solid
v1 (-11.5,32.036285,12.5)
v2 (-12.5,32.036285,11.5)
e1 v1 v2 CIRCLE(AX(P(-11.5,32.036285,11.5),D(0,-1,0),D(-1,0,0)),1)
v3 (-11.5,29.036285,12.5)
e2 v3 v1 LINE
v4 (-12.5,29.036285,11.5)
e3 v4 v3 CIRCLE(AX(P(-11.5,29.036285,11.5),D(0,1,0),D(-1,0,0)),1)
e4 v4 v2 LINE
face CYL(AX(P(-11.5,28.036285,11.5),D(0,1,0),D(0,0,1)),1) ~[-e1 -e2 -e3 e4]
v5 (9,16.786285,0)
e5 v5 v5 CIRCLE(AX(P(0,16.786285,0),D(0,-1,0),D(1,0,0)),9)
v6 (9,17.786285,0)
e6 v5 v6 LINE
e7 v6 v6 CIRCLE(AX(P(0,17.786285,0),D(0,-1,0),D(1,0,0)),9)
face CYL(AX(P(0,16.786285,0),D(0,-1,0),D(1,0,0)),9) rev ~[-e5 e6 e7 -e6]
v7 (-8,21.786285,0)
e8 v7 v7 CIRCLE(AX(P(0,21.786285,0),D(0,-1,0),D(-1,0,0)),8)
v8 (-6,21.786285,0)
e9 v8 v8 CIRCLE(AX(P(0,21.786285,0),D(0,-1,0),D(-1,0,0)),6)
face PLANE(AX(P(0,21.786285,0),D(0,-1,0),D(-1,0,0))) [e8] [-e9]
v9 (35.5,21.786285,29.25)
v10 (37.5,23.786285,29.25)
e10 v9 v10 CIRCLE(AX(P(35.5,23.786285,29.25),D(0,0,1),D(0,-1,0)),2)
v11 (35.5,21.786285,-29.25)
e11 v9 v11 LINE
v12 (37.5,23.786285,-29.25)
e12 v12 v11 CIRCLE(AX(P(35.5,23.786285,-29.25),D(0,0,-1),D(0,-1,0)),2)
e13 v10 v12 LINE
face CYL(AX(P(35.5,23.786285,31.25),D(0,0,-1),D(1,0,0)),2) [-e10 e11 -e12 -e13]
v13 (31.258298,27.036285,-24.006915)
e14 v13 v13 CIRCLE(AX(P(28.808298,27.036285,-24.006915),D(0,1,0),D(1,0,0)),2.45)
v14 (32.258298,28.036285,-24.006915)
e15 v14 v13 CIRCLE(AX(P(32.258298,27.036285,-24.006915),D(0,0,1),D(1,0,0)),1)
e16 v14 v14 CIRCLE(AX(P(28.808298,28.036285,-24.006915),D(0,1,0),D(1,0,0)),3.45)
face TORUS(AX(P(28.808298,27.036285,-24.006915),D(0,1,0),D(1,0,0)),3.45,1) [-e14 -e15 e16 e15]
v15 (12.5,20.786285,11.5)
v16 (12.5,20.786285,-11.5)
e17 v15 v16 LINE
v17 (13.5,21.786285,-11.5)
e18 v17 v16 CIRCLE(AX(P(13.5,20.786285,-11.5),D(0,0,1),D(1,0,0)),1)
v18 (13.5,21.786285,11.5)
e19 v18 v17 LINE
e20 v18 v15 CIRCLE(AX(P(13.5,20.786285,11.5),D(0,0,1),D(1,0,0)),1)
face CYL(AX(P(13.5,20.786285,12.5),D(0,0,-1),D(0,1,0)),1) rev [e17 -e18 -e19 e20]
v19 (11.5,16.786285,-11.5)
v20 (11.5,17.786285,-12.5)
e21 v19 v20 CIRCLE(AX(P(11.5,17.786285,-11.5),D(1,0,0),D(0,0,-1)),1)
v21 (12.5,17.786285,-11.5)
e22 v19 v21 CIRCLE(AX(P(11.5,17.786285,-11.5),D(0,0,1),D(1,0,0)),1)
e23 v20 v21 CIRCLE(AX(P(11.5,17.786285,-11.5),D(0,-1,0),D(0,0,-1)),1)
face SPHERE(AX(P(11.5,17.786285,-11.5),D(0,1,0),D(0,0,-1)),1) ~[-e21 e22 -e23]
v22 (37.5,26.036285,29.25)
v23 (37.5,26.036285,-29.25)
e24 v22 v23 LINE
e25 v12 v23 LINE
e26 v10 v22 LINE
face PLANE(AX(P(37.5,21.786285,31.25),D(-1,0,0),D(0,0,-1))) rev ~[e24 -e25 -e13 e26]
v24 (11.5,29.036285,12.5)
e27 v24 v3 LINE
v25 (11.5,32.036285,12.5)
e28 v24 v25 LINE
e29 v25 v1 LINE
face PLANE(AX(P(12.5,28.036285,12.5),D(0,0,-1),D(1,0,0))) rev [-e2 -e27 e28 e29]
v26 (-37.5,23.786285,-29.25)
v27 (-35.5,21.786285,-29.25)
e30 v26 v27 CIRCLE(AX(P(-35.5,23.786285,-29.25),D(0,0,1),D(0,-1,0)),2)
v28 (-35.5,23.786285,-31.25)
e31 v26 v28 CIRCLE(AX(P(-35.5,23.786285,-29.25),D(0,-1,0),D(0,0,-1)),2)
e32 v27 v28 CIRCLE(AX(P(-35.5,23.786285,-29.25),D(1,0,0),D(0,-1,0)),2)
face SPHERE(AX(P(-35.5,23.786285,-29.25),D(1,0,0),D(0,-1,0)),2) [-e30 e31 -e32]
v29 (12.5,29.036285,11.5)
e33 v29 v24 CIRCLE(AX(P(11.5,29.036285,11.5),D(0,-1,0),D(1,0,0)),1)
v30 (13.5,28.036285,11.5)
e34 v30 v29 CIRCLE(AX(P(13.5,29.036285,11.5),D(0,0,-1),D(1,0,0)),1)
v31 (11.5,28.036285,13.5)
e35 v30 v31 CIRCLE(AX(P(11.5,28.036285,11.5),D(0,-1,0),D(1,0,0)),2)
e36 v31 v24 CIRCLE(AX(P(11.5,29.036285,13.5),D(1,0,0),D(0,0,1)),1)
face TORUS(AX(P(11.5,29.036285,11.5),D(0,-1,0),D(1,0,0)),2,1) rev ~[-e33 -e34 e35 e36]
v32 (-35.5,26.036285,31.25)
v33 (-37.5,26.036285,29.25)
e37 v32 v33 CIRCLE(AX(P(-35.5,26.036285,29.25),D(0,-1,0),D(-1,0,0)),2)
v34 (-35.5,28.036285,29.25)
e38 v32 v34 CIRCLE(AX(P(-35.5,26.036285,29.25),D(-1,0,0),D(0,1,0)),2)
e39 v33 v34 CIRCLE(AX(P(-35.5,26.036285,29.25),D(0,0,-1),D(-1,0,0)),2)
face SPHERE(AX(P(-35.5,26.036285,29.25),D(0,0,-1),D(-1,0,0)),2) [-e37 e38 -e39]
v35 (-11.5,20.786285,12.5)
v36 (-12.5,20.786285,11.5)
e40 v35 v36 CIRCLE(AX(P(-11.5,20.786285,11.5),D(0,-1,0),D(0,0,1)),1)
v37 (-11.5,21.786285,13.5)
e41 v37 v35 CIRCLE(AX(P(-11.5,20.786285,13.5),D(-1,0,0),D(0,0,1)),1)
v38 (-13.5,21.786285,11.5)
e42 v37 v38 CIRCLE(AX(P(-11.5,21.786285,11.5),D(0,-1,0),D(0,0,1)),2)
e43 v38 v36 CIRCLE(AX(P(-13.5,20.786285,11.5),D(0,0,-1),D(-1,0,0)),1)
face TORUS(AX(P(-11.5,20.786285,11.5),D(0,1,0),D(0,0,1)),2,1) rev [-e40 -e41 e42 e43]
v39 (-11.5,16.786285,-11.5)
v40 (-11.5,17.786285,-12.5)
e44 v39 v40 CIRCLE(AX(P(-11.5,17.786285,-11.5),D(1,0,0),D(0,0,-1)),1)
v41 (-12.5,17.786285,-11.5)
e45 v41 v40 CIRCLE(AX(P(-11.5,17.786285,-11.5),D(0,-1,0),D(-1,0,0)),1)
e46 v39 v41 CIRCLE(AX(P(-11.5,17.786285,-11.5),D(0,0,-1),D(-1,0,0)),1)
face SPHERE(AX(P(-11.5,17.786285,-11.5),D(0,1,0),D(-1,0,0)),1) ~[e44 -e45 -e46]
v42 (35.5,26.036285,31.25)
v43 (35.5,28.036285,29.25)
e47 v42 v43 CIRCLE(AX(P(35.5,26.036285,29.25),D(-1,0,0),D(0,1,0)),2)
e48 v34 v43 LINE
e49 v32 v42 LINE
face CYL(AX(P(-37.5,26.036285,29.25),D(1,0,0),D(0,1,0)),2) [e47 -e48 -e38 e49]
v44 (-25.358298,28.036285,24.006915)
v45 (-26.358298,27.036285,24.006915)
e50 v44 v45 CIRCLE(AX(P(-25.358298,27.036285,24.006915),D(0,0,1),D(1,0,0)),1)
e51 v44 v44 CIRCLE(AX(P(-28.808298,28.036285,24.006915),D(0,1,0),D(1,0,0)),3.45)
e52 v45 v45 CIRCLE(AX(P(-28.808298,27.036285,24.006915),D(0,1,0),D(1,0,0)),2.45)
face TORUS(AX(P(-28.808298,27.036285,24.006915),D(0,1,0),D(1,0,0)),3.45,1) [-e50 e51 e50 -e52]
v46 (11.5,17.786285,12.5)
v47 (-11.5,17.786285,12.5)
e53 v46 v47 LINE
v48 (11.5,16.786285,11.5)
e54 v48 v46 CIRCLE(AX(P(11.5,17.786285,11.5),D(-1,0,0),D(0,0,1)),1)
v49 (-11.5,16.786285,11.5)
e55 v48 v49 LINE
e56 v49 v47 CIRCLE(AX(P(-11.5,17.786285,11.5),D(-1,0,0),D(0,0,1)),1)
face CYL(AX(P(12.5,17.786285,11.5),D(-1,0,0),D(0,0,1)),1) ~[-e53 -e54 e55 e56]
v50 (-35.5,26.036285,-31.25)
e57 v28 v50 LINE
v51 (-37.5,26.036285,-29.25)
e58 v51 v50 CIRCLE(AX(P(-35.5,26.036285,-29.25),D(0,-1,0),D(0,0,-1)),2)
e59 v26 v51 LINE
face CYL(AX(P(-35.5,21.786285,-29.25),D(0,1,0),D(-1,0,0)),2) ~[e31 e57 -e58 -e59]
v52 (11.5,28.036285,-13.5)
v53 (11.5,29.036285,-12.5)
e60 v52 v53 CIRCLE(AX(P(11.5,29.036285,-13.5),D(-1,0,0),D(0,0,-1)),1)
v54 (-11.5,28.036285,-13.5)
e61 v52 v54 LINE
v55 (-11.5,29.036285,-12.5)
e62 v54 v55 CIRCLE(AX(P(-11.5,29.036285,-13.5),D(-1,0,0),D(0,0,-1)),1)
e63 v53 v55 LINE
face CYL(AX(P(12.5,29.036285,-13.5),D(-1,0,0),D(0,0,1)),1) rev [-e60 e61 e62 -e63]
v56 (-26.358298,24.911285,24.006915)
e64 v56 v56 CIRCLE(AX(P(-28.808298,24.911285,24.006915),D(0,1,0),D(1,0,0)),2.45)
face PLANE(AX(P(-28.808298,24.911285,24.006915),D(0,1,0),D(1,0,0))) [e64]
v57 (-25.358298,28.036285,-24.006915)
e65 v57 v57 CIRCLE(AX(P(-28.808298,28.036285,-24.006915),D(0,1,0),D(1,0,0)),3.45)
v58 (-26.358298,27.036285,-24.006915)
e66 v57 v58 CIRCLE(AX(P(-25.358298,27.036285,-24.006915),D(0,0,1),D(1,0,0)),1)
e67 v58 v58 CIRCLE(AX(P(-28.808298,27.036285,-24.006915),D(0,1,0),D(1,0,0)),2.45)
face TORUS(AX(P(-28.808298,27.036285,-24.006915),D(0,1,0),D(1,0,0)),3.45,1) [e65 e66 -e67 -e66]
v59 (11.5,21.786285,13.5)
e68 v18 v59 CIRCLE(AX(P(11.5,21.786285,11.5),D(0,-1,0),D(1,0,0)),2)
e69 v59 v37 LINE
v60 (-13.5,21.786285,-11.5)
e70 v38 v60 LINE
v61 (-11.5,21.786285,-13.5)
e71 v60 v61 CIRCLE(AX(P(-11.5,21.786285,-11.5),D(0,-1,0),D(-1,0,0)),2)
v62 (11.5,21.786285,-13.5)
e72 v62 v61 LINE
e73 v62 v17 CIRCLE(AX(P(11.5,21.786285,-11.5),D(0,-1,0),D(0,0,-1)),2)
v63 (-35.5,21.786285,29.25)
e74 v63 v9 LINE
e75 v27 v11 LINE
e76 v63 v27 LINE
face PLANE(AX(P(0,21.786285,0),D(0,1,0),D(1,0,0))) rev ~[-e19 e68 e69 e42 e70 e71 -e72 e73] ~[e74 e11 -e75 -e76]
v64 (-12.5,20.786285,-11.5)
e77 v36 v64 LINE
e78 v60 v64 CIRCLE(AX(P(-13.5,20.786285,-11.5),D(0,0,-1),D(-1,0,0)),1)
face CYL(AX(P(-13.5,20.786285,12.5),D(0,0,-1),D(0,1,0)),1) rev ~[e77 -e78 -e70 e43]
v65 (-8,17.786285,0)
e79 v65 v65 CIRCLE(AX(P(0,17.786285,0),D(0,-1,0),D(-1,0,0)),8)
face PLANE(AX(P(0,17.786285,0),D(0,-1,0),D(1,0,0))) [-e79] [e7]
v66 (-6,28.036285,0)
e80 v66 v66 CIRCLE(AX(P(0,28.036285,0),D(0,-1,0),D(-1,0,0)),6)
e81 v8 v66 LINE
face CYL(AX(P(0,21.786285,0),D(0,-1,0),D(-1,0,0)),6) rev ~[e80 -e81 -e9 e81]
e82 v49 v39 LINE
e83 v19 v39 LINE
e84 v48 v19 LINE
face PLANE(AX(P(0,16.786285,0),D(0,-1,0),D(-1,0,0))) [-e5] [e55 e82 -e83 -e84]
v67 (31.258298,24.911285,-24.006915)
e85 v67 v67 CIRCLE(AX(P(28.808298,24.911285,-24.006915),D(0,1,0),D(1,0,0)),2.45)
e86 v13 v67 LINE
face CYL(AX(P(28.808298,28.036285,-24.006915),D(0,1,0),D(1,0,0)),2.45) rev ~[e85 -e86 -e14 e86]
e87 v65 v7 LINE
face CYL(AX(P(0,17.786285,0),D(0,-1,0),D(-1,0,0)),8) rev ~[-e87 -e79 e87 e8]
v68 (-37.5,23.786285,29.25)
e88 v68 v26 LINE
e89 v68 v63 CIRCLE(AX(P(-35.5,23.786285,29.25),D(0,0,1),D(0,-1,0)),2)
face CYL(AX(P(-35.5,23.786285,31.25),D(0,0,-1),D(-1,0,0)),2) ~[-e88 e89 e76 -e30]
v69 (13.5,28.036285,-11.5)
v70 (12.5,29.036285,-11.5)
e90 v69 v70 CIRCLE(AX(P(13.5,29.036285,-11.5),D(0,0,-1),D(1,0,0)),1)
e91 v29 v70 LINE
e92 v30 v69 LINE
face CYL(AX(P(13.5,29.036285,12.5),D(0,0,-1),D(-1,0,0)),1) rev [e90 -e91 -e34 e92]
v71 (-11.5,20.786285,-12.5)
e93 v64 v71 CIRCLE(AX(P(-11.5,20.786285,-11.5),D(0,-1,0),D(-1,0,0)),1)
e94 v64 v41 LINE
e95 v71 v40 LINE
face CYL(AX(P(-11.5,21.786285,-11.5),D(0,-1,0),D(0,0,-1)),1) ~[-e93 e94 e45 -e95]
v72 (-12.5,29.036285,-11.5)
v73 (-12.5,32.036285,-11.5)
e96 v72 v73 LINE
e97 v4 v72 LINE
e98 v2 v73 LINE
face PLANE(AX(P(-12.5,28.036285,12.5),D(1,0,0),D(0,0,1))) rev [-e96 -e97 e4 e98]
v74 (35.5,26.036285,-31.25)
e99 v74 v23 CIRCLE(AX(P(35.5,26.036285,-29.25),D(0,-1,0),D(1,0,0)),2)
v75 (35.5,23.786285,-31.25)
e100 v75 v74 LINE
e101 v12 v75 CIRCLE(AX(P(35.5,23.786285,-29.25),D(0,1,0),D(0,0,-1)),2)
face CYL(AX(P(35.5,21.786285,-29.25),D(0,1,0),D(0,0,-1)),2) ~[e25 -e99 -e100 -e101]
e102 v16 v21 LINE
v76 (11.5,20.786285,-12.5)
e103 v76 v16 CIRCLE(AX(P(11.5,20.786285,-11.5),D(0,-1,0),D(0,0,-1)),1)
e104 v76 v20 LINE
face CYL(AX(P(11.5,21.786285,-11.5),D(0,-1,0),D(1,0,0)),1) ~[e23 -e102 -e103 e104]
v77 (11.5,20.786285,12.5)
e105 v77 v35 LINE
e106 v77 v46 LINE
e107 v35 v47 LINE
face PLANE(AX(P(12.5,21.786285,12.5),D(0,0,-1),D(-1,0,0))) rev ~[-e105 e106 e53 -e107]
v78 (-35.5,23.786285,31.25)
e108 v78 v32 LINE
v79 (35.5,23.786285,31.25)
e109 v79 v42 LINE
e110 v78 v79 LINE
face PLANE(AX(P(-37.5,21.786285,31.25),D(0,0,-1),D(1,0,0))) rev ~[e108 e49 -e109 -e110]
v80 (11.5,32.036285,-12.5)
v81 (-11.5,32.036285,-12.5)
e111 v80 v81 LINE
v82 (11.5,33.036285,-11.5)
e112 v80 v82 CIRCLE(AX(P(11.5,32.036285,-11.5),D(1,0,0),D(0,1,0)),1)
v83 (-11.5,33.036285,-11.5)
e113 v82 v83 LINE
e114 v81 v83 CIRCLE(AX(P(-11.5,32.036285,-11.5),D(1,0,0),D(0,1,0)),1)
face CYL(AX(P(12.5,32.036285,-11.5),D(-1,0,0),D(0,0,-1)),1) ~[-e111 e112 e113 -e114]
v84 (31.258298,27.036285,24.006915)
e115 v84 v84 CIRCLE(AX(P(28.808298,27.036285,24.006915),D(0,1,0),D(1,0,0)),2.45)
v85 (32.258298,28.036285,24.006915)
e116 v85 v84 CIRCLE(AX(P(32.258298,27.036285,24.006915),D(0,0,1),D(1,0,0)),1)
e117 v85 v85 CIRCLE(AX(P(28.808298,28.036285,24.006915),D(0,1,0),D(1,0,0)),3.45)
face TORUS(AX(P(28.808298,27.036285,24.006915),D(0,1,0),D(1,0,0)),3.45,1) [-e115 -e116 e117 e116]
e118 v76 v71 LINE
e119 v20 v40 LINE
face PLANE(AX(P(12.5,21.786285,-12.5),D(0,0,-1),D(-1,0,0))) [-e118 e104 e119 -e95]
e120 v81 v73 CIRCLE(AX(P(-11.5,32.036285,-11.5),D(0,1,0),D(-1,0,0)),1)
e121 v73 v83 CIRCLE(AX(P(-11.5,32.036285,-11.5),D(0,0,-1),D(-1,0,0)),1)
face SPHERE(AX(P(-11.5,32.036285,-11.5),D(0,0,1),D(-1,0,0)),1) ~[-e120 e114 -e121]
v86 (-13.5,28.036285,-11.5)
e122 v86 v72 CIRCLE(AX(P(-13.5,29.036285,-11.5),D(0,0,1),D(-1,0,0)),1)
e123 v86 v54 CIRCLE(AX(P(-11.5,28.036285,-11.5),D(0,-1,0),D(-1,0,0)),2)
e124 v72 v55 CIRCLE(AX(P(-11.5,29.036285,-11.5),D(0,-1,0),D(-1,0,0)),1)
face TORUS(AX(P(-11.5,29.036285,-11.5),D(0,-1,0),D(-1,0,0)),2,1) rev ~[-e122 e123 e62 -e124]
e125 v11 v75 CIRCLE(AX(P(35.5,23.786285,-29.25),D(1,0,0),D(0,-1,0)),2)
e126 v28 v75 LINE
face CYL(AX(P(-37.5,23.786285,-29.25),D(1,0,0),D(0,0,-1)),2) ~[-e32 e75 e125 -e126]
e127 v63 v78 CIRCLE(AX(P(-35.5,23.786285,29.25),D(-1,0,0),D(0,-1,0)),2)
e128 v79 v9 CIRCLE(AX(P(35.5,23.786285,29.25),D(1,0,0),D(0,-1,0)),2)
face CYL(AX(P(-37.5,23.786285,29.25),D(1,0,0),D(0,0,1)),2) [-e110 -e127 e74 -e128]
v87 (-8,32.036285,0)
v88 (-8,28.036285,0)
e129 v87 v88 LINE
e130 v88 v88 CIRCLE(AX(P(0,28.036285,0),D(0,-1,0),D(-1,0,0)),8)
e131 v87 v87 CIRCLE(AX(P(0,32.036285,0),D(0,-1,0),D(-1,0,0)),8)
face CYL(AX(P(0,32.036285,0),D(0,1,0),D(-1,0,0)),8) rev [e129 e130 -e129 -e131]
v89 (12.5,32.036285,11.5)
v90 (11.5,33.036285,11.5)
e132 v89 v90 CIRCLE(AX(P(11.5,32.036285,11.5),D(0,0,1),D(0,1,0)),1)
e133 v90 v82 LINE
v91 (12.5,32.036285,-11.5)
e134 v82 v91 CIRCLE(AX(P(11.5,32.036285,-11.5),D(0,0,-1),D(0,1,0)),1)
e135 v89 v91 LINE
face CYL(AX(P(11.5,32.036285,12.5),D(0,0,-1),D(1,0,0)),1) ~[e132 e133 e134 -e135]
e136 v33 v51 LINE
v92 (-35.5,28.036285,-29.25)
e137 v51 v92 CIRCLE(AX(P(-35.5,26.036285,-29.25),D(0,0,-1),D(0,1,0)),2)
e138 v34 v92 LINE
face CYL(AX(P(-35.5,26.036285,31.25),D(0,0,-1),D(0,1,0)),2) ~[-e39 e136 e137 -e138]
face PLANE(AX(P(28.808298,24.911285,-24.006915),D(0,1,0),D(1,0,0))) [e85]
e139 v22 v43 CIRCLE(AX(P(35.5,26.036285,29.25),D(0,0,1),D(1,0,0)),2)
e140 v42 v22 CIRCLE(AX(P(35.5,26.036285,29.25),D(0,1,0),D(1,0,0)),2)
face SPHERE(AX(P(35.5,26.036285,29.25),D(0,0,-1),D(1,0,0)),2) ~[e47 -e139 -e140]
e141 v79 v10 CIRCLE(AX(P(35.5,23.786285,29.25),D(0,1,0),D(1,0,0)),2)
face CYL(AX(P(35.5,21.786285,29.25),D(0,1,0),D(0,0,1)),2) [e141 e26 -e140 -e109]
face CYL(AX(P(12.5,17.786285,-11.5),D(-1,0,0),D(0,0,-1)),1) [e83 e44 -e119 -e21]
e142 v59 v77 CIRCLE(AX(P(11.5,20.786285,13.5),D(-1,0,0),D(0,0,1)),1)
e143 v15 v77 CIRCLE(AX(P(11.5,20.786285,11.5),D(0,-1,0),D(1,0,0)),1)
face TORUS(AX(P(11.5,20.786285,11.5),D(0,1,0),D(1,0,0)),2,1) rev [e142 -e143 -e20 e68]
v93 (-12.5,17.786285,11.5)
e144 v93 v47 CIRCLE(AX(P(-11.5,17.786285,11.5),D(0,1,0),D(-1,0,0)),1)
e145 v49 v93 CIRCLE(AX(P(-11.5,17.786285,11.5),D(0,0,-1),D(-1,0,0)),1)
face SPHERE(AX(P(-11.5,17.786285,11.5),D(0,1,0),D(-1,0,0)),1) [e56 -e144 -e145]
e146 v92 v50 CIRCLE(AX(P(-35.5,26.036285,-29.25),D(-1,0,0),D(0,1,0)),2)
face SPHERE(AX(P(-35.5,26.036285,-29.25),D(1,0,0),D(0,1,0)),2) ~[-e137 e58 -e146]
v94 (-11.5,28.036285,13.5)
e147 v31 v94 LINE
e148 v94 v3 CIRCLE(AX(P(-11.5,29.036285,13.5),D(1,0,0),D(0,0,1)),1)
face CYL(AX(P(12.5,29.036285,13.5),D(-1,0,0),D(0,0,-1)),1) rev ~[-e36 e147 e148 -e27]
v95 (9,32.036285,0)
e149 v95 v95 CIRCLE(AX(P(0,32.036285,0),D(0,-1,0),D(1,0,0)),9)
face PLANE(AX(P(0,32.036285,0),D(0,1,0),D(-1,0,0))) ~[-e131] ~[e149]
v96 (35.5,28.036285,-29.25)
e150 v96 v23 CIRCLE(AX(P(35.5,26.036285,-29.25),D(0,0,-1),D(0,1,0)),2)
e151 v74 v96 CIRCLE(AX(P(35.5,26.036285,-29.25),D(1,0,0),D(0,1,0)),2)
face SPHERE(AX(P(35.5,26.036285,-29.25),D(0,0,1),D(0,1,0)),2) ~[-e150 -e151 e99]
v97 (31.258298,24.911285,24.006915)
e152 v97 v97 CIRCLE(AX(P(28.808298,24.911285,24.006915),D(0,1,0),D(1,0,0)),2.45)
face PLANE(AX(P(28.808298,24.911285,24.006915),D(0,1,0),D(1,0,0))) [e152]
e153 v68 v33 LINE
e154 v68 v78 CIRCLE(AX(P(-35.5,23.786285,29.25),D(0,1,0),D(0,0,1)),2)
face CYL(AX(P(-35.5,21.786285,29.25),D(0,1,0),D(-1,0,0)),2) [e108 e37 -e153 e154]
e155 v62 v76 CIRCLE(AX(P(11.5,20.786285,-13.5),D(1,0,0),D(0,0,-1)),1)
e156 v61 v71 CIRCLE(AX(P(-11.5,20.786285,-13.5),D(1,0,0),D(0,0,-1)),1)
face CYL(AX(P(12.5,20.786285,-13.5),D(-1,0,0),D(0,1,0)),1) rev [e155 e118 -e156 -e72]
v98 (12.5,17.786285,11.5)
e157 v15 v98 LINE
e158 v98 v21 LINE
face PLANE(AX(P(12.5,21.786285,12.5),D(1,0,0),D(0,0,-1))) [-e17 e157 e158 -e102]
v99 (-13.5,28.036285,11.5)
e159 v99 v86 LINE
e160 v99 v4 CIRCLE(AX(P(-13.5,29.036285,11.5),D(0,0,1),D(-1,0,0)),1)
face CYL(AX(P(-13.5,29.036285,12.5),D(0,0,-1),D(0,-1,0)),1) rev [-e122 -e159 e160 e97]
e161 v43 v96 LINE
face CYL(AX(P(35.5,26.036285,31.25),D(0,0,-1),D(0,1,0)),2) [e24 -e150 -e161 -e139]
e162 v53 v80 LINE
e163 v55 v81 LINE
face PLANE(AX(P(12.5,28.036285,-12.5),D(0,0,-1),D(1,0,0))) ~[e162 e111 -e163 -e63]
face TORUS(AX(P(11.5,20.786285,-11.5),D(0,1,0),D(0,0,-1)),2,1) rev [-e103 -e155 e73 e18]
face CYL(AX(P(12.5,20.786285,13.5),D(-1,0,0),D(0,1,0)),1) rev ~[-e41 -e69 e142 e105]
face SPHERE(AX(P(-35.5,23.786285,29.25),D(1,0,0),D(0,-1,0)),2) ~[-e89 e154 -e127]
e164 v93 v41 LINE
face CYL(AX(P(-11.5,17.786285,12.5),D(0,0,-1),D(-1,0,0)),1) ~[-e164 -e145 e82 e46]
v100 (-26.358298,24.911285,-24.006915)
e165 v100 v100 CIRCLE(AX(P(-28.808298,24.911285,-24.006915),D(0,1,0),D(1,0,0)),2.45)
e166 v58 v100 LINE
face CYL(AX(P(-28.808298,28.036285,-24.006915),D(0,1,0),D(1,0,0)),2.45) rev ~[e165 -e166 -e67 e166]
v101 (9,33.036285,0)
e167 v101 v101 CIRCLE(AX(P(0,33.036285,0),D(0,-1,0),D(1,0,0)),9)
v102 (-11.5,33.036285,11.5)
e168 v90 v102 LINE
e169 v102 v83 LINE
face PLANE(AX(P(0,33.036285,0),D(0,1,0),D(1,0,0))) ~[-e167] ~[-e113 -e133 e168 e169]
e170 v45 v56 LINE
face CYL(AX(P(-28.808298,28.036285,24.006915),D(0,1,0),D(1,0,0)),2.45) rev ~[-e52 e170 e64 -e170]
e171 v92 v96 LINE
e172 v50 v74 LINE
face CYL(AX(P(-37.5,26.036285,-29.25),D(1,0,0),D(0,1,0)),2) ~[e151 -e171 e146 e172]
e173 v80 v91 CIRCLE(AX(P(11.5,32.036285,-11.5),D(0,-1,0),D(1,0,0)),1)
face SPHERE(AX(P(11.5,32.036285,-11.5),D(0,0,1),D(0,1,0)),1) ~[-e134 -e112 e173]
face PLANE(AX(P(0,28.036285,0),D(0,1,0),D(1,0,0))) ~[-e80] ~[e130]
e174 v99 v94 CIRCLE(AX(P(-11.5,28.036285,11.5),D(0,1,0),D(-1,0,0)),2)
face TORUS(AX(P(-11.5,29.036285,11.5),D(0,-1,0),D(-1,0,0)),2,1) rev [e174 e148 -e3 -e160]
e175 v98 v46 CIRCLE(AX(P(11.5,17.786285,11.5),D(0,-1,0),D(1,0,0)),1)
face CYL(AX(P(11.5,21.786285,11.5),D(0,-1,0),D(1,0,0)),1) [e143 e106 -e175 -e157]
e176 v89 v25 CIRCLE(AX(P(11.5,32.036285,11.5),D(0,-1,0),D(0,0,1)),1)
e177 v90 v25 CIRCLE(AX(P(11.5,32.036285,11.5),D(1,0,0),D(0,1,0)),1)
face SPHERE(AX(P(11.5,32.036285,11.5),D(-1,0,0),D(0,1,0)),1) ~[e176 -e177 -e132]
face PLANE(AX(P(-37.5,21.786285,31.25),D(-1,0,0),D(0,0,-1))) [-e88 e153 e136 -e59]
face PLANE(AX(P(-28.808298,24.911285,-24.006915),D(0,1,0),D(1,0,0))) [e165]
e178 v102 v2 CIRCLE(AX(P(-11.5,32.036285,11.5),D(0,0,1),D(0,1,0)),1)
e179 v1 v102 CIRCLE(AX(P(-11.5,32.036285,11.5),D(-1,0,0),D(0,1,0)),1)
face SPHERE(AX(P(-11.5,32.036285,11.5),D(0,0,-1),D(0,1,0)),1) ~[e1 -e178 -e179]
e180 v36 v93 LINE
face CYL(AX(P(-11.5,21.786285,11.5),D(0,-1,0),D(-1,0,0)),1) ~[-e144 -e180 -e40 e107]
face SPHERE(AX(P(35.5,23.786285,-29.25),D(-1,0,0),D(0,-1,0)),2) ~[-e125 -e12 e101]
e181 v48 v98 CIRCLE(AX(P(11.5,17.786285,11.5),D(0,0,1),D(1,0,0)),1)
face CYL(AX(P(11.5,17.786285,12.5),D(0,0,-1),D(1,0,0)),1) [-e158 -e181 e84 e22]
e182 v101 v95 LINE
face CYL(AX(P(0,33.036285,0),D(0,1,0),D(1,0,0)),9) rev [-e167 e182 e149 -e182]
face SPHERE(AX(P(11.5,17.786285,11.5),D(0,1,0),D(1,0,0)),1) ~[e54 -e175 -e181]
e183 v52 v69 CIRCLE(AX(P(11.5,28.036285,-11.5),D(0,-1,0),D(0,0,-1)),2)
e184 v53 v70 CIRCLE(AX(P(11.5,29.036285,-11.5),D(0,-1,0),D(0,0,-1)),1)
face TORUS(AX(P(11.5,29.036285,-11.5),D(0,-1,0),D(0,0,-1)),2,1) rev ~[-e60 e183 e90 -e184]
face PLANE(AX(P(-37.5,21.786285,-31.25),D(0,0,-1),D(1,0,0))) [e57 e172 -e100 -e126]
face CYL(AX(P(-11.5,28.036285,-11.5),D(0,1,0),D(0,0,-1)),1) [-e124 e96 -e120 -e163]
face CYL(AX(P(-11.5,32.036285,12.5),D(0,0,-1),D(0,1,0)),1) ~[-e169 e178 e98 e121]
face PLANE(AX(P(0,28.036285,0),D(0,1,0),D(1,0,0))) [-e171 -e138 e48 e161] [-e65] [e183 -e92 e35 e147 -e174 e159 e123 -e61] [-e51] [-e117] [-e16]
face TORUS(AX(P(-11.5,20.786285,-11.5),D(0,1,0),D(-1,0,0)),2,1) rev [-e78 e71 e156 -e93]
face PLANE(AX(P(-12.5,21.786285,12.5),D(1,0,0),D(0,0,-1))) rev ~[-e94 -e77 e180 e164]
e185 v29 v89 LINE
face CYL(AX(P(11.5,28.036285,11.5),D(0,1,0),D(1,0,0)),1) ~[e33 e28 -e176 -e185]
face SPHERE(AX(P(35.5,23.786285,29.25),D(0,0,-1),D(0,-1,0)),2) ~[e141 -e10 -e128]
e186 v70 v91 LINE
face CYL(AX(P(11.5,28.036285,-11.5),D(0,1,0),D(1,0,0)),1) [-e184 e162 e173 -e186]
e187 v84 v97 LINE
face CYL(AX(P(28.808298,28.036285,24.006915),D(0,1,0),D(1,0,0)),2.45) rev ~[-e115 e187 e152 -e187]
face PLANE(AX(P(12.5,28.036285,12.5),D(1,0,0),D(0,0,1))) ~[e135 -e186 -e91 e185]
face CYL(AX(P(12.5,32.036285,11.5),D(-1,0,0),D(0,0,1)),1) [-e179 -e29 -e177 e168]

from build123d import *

# Parameters (mm, degrees)
SKETCH1_W           = 600
SKETCH1_H           = 500
BOSS_EXTRUDE1_DEPTH = 50
SKETCH2_R           = 19.6
CUT_EXTRUDE1_DEPTH  = 25
SCALE1_SCALE        = 0.125
FILLET4_R           = 1
SKETCH3_W           = 25
SKETCH3_H           = 25
BOSS_EXTRUDE2_DEPTH = 5
SKETCH4_R           = 9
CUT_EXTRUDE2_DEPTH  = 1
SKETCH5_R           = 8
CUT_EXTRUDE3_DEPTH  = 4
SKETCH6_R           = 6
CUT_EXTRUDE4_DEPTH  = 7.25
FILLET6_R           = 1
FILLET7_R           = 2


with BuildPart() as part:
    # Sketch1 → Boss-Extrude1 (new body)
    with BuildSketch(Plane(origin=(0, 0, 0), x_dir=(1, 0, 0), z_dir=(0, 1, 0))):
        Rectangle(SKETCH1_W, SKETCH1_H)
    extrude(amount=BOSS_EXTRUDE1_DEPTH)

    # Sketch2 → Cut-Extrude1 (cut)
    with BuildSketch(Plane(origin=(0, 50, 0), x_dir=(1, 0, 0), z_dir=(0, 1, 0))):
        with Locations((-230.466383879, -192.055319899)):
            Circle(SKETCH2_R)
        with Locations((230.466383879, 192.055319899)):
            Circle(SKETCH2_R)
        with Locations((230.466383879, -192.055319899)):
            Circle(SKETCH2_R)
        with Locations((-230.466383879, 192.055319899)):
            Circle(SKETCH2_R)
    extrude(amount=-CUT_EXTRUDE1_DEPTH, mode=Mode.SUBTRACT)


with BuildPart() as part_1:
    # Scale1: scaled about (0, 24.898611392, 0)
    add(part.part.scale(SCALE1_SCALE).moved(Location((0, 21.786284968, 0))))

    # Fillet4
    fillet4_edges = [part_1.edges().sort_by_distance(p)[0] for p in [
        (-31.258297985, 28.036284968, -24.006914987),
        (26.358297985, 28.036284968, 24.006914987),
        (26.358297985, 28.036284968, -24.006914987),
        (-31.258297985, 28.036284968, 24.006914987),
    ]]
    fillet(fillet4_edges, radius=FILLET4_R)

    # Sketch3 → Boss-Extrude2 (add)
    with BuildSketch(Plane(origin=(0, 21.786284968, 0), x_dir=(-1, 0, 0), z_dir=(0, -1, 0))):
        Rectangle(SKETCH3_W, SKETCH3_H)
    boss_extrude2 = extrude(amount=BOSS_EXTRUDE2_DEPTH)

    # Sketch4 → Cut-Extrude2 (cut)
    with BuildSketch(Plane.XZ.offset(-16.786284968)):
        Circle(SKETCH4_R)
    cut_extrude2 = extrude(amount=-CUT_EXTRUDE2_DEPTH, mode=Mode.SUBTRACT)

    # Sketch5 → Cut-Extrude3 (cut)
    with BuildSketch(Plane(origin=(0, 17.786284968, 0), x_dir=(-1, 0, 0), z_dir=(0, -1, 0))):
        Circle(SKETCH5_R)
    cut_extrude3 = extrude(amount=-CUT_EXTRUDE3_DEPTH, mode=Mode.SUBTRACT)

    # Sketch6 → Cut-Extrude4 (cut, through all)
    with BuildSketch(Plane(origin=(0, 21.786284968, 0), x_dir=(-1, 0, 0), z_dir=(0, -1, 0))):
        Circle(SKETCH6_R)
    extrude(amount=-CUT_EXTRUDE4_DEPTH, mode=Mode.SUBTRACT)

    # Mirror1: Boss-Extrude2, Cut-Extrude2, Cut-Extrude3 across plane
    add(boss_extrude2.mirror(Plane.ZX.offset(24.911284968)))
    add(cut_extrude2.mirror(Plane.ZX.offset(24.911284968)), mode=Mode.SUBTRACT)
    add(cut_extrude3.mirror(Plane.ZX.offset(24.911284968)), mode=Mode.SUBTRACT)

    # Fillet6
    fillet6_edges = [part_1.edges().sort_by_distance(p)[0] for p in [
        (-12.5, 21.786284968, 0),
        (-12.5, 19.286284968, 12.5),
        (0, 21.786284968, -12.5),
        (-12.5, 19.286284968, -12.5),
        (12.5, 21.786284968, 0),
        (12.5, 19.286284968, -12.5),
        (0, 21.786284968, 12.5),
        (12.5, 19.286284968, 12.5),
        (-12.5, 16.786284968, 0),
        (0, 16.786284968, -12.5),
        (12.5, 16.786284968, 0),
        (0, 16.786284968, 12.5),
        (-12.5, 33.036284968, 0),
        (-12.5, 30.536284968, -12.5),
        (0, 33.036284968, 12.5),
        (-12.5, 30.536284968, 12.5),
        (12.5, 33.036284968, 0),
        (12.5, 30.536284968, 12.5),
        (0, 33.036284968, -12.5),
        (12.5, 30.536284968, -12.5),
        (-12.5, 28.036284968, 0),
        (0, 28.036284968, -12.5),
        (12.5, 28.036284968, 0),
        (0, 28.036284968, 12.5),
    ]]
    fillet(fillet6_edges, radius=FILLET6_R)

    # Fillet7
    fillet7_edges = [part_1.edges().sort_by_distance(p)[0] for p in [
        (37.5, 28.036284968, 0),
        (0, 28.036284968, -31.25),
        (-37.5, 28.036284968, 0),
        (0, 21.786284968, -31.25),
        (37.5, 21.786284968, 0),
        (0, 21.786284968, 31.25),
        (-37.5, 21.786284968, 0),
        (-37.5, 24.911284968, -31.25),
        (37.5, 24.911284968, -31.25),
        (37.5, 24.911284968, 31.25),
        (-37.5, 24.911284968, 31.25),
        (0, 28.036284968, 31.25),
    ]]
    fillet(fillet7_edges, radius=FILLET7_R)


solid = part_1.part
